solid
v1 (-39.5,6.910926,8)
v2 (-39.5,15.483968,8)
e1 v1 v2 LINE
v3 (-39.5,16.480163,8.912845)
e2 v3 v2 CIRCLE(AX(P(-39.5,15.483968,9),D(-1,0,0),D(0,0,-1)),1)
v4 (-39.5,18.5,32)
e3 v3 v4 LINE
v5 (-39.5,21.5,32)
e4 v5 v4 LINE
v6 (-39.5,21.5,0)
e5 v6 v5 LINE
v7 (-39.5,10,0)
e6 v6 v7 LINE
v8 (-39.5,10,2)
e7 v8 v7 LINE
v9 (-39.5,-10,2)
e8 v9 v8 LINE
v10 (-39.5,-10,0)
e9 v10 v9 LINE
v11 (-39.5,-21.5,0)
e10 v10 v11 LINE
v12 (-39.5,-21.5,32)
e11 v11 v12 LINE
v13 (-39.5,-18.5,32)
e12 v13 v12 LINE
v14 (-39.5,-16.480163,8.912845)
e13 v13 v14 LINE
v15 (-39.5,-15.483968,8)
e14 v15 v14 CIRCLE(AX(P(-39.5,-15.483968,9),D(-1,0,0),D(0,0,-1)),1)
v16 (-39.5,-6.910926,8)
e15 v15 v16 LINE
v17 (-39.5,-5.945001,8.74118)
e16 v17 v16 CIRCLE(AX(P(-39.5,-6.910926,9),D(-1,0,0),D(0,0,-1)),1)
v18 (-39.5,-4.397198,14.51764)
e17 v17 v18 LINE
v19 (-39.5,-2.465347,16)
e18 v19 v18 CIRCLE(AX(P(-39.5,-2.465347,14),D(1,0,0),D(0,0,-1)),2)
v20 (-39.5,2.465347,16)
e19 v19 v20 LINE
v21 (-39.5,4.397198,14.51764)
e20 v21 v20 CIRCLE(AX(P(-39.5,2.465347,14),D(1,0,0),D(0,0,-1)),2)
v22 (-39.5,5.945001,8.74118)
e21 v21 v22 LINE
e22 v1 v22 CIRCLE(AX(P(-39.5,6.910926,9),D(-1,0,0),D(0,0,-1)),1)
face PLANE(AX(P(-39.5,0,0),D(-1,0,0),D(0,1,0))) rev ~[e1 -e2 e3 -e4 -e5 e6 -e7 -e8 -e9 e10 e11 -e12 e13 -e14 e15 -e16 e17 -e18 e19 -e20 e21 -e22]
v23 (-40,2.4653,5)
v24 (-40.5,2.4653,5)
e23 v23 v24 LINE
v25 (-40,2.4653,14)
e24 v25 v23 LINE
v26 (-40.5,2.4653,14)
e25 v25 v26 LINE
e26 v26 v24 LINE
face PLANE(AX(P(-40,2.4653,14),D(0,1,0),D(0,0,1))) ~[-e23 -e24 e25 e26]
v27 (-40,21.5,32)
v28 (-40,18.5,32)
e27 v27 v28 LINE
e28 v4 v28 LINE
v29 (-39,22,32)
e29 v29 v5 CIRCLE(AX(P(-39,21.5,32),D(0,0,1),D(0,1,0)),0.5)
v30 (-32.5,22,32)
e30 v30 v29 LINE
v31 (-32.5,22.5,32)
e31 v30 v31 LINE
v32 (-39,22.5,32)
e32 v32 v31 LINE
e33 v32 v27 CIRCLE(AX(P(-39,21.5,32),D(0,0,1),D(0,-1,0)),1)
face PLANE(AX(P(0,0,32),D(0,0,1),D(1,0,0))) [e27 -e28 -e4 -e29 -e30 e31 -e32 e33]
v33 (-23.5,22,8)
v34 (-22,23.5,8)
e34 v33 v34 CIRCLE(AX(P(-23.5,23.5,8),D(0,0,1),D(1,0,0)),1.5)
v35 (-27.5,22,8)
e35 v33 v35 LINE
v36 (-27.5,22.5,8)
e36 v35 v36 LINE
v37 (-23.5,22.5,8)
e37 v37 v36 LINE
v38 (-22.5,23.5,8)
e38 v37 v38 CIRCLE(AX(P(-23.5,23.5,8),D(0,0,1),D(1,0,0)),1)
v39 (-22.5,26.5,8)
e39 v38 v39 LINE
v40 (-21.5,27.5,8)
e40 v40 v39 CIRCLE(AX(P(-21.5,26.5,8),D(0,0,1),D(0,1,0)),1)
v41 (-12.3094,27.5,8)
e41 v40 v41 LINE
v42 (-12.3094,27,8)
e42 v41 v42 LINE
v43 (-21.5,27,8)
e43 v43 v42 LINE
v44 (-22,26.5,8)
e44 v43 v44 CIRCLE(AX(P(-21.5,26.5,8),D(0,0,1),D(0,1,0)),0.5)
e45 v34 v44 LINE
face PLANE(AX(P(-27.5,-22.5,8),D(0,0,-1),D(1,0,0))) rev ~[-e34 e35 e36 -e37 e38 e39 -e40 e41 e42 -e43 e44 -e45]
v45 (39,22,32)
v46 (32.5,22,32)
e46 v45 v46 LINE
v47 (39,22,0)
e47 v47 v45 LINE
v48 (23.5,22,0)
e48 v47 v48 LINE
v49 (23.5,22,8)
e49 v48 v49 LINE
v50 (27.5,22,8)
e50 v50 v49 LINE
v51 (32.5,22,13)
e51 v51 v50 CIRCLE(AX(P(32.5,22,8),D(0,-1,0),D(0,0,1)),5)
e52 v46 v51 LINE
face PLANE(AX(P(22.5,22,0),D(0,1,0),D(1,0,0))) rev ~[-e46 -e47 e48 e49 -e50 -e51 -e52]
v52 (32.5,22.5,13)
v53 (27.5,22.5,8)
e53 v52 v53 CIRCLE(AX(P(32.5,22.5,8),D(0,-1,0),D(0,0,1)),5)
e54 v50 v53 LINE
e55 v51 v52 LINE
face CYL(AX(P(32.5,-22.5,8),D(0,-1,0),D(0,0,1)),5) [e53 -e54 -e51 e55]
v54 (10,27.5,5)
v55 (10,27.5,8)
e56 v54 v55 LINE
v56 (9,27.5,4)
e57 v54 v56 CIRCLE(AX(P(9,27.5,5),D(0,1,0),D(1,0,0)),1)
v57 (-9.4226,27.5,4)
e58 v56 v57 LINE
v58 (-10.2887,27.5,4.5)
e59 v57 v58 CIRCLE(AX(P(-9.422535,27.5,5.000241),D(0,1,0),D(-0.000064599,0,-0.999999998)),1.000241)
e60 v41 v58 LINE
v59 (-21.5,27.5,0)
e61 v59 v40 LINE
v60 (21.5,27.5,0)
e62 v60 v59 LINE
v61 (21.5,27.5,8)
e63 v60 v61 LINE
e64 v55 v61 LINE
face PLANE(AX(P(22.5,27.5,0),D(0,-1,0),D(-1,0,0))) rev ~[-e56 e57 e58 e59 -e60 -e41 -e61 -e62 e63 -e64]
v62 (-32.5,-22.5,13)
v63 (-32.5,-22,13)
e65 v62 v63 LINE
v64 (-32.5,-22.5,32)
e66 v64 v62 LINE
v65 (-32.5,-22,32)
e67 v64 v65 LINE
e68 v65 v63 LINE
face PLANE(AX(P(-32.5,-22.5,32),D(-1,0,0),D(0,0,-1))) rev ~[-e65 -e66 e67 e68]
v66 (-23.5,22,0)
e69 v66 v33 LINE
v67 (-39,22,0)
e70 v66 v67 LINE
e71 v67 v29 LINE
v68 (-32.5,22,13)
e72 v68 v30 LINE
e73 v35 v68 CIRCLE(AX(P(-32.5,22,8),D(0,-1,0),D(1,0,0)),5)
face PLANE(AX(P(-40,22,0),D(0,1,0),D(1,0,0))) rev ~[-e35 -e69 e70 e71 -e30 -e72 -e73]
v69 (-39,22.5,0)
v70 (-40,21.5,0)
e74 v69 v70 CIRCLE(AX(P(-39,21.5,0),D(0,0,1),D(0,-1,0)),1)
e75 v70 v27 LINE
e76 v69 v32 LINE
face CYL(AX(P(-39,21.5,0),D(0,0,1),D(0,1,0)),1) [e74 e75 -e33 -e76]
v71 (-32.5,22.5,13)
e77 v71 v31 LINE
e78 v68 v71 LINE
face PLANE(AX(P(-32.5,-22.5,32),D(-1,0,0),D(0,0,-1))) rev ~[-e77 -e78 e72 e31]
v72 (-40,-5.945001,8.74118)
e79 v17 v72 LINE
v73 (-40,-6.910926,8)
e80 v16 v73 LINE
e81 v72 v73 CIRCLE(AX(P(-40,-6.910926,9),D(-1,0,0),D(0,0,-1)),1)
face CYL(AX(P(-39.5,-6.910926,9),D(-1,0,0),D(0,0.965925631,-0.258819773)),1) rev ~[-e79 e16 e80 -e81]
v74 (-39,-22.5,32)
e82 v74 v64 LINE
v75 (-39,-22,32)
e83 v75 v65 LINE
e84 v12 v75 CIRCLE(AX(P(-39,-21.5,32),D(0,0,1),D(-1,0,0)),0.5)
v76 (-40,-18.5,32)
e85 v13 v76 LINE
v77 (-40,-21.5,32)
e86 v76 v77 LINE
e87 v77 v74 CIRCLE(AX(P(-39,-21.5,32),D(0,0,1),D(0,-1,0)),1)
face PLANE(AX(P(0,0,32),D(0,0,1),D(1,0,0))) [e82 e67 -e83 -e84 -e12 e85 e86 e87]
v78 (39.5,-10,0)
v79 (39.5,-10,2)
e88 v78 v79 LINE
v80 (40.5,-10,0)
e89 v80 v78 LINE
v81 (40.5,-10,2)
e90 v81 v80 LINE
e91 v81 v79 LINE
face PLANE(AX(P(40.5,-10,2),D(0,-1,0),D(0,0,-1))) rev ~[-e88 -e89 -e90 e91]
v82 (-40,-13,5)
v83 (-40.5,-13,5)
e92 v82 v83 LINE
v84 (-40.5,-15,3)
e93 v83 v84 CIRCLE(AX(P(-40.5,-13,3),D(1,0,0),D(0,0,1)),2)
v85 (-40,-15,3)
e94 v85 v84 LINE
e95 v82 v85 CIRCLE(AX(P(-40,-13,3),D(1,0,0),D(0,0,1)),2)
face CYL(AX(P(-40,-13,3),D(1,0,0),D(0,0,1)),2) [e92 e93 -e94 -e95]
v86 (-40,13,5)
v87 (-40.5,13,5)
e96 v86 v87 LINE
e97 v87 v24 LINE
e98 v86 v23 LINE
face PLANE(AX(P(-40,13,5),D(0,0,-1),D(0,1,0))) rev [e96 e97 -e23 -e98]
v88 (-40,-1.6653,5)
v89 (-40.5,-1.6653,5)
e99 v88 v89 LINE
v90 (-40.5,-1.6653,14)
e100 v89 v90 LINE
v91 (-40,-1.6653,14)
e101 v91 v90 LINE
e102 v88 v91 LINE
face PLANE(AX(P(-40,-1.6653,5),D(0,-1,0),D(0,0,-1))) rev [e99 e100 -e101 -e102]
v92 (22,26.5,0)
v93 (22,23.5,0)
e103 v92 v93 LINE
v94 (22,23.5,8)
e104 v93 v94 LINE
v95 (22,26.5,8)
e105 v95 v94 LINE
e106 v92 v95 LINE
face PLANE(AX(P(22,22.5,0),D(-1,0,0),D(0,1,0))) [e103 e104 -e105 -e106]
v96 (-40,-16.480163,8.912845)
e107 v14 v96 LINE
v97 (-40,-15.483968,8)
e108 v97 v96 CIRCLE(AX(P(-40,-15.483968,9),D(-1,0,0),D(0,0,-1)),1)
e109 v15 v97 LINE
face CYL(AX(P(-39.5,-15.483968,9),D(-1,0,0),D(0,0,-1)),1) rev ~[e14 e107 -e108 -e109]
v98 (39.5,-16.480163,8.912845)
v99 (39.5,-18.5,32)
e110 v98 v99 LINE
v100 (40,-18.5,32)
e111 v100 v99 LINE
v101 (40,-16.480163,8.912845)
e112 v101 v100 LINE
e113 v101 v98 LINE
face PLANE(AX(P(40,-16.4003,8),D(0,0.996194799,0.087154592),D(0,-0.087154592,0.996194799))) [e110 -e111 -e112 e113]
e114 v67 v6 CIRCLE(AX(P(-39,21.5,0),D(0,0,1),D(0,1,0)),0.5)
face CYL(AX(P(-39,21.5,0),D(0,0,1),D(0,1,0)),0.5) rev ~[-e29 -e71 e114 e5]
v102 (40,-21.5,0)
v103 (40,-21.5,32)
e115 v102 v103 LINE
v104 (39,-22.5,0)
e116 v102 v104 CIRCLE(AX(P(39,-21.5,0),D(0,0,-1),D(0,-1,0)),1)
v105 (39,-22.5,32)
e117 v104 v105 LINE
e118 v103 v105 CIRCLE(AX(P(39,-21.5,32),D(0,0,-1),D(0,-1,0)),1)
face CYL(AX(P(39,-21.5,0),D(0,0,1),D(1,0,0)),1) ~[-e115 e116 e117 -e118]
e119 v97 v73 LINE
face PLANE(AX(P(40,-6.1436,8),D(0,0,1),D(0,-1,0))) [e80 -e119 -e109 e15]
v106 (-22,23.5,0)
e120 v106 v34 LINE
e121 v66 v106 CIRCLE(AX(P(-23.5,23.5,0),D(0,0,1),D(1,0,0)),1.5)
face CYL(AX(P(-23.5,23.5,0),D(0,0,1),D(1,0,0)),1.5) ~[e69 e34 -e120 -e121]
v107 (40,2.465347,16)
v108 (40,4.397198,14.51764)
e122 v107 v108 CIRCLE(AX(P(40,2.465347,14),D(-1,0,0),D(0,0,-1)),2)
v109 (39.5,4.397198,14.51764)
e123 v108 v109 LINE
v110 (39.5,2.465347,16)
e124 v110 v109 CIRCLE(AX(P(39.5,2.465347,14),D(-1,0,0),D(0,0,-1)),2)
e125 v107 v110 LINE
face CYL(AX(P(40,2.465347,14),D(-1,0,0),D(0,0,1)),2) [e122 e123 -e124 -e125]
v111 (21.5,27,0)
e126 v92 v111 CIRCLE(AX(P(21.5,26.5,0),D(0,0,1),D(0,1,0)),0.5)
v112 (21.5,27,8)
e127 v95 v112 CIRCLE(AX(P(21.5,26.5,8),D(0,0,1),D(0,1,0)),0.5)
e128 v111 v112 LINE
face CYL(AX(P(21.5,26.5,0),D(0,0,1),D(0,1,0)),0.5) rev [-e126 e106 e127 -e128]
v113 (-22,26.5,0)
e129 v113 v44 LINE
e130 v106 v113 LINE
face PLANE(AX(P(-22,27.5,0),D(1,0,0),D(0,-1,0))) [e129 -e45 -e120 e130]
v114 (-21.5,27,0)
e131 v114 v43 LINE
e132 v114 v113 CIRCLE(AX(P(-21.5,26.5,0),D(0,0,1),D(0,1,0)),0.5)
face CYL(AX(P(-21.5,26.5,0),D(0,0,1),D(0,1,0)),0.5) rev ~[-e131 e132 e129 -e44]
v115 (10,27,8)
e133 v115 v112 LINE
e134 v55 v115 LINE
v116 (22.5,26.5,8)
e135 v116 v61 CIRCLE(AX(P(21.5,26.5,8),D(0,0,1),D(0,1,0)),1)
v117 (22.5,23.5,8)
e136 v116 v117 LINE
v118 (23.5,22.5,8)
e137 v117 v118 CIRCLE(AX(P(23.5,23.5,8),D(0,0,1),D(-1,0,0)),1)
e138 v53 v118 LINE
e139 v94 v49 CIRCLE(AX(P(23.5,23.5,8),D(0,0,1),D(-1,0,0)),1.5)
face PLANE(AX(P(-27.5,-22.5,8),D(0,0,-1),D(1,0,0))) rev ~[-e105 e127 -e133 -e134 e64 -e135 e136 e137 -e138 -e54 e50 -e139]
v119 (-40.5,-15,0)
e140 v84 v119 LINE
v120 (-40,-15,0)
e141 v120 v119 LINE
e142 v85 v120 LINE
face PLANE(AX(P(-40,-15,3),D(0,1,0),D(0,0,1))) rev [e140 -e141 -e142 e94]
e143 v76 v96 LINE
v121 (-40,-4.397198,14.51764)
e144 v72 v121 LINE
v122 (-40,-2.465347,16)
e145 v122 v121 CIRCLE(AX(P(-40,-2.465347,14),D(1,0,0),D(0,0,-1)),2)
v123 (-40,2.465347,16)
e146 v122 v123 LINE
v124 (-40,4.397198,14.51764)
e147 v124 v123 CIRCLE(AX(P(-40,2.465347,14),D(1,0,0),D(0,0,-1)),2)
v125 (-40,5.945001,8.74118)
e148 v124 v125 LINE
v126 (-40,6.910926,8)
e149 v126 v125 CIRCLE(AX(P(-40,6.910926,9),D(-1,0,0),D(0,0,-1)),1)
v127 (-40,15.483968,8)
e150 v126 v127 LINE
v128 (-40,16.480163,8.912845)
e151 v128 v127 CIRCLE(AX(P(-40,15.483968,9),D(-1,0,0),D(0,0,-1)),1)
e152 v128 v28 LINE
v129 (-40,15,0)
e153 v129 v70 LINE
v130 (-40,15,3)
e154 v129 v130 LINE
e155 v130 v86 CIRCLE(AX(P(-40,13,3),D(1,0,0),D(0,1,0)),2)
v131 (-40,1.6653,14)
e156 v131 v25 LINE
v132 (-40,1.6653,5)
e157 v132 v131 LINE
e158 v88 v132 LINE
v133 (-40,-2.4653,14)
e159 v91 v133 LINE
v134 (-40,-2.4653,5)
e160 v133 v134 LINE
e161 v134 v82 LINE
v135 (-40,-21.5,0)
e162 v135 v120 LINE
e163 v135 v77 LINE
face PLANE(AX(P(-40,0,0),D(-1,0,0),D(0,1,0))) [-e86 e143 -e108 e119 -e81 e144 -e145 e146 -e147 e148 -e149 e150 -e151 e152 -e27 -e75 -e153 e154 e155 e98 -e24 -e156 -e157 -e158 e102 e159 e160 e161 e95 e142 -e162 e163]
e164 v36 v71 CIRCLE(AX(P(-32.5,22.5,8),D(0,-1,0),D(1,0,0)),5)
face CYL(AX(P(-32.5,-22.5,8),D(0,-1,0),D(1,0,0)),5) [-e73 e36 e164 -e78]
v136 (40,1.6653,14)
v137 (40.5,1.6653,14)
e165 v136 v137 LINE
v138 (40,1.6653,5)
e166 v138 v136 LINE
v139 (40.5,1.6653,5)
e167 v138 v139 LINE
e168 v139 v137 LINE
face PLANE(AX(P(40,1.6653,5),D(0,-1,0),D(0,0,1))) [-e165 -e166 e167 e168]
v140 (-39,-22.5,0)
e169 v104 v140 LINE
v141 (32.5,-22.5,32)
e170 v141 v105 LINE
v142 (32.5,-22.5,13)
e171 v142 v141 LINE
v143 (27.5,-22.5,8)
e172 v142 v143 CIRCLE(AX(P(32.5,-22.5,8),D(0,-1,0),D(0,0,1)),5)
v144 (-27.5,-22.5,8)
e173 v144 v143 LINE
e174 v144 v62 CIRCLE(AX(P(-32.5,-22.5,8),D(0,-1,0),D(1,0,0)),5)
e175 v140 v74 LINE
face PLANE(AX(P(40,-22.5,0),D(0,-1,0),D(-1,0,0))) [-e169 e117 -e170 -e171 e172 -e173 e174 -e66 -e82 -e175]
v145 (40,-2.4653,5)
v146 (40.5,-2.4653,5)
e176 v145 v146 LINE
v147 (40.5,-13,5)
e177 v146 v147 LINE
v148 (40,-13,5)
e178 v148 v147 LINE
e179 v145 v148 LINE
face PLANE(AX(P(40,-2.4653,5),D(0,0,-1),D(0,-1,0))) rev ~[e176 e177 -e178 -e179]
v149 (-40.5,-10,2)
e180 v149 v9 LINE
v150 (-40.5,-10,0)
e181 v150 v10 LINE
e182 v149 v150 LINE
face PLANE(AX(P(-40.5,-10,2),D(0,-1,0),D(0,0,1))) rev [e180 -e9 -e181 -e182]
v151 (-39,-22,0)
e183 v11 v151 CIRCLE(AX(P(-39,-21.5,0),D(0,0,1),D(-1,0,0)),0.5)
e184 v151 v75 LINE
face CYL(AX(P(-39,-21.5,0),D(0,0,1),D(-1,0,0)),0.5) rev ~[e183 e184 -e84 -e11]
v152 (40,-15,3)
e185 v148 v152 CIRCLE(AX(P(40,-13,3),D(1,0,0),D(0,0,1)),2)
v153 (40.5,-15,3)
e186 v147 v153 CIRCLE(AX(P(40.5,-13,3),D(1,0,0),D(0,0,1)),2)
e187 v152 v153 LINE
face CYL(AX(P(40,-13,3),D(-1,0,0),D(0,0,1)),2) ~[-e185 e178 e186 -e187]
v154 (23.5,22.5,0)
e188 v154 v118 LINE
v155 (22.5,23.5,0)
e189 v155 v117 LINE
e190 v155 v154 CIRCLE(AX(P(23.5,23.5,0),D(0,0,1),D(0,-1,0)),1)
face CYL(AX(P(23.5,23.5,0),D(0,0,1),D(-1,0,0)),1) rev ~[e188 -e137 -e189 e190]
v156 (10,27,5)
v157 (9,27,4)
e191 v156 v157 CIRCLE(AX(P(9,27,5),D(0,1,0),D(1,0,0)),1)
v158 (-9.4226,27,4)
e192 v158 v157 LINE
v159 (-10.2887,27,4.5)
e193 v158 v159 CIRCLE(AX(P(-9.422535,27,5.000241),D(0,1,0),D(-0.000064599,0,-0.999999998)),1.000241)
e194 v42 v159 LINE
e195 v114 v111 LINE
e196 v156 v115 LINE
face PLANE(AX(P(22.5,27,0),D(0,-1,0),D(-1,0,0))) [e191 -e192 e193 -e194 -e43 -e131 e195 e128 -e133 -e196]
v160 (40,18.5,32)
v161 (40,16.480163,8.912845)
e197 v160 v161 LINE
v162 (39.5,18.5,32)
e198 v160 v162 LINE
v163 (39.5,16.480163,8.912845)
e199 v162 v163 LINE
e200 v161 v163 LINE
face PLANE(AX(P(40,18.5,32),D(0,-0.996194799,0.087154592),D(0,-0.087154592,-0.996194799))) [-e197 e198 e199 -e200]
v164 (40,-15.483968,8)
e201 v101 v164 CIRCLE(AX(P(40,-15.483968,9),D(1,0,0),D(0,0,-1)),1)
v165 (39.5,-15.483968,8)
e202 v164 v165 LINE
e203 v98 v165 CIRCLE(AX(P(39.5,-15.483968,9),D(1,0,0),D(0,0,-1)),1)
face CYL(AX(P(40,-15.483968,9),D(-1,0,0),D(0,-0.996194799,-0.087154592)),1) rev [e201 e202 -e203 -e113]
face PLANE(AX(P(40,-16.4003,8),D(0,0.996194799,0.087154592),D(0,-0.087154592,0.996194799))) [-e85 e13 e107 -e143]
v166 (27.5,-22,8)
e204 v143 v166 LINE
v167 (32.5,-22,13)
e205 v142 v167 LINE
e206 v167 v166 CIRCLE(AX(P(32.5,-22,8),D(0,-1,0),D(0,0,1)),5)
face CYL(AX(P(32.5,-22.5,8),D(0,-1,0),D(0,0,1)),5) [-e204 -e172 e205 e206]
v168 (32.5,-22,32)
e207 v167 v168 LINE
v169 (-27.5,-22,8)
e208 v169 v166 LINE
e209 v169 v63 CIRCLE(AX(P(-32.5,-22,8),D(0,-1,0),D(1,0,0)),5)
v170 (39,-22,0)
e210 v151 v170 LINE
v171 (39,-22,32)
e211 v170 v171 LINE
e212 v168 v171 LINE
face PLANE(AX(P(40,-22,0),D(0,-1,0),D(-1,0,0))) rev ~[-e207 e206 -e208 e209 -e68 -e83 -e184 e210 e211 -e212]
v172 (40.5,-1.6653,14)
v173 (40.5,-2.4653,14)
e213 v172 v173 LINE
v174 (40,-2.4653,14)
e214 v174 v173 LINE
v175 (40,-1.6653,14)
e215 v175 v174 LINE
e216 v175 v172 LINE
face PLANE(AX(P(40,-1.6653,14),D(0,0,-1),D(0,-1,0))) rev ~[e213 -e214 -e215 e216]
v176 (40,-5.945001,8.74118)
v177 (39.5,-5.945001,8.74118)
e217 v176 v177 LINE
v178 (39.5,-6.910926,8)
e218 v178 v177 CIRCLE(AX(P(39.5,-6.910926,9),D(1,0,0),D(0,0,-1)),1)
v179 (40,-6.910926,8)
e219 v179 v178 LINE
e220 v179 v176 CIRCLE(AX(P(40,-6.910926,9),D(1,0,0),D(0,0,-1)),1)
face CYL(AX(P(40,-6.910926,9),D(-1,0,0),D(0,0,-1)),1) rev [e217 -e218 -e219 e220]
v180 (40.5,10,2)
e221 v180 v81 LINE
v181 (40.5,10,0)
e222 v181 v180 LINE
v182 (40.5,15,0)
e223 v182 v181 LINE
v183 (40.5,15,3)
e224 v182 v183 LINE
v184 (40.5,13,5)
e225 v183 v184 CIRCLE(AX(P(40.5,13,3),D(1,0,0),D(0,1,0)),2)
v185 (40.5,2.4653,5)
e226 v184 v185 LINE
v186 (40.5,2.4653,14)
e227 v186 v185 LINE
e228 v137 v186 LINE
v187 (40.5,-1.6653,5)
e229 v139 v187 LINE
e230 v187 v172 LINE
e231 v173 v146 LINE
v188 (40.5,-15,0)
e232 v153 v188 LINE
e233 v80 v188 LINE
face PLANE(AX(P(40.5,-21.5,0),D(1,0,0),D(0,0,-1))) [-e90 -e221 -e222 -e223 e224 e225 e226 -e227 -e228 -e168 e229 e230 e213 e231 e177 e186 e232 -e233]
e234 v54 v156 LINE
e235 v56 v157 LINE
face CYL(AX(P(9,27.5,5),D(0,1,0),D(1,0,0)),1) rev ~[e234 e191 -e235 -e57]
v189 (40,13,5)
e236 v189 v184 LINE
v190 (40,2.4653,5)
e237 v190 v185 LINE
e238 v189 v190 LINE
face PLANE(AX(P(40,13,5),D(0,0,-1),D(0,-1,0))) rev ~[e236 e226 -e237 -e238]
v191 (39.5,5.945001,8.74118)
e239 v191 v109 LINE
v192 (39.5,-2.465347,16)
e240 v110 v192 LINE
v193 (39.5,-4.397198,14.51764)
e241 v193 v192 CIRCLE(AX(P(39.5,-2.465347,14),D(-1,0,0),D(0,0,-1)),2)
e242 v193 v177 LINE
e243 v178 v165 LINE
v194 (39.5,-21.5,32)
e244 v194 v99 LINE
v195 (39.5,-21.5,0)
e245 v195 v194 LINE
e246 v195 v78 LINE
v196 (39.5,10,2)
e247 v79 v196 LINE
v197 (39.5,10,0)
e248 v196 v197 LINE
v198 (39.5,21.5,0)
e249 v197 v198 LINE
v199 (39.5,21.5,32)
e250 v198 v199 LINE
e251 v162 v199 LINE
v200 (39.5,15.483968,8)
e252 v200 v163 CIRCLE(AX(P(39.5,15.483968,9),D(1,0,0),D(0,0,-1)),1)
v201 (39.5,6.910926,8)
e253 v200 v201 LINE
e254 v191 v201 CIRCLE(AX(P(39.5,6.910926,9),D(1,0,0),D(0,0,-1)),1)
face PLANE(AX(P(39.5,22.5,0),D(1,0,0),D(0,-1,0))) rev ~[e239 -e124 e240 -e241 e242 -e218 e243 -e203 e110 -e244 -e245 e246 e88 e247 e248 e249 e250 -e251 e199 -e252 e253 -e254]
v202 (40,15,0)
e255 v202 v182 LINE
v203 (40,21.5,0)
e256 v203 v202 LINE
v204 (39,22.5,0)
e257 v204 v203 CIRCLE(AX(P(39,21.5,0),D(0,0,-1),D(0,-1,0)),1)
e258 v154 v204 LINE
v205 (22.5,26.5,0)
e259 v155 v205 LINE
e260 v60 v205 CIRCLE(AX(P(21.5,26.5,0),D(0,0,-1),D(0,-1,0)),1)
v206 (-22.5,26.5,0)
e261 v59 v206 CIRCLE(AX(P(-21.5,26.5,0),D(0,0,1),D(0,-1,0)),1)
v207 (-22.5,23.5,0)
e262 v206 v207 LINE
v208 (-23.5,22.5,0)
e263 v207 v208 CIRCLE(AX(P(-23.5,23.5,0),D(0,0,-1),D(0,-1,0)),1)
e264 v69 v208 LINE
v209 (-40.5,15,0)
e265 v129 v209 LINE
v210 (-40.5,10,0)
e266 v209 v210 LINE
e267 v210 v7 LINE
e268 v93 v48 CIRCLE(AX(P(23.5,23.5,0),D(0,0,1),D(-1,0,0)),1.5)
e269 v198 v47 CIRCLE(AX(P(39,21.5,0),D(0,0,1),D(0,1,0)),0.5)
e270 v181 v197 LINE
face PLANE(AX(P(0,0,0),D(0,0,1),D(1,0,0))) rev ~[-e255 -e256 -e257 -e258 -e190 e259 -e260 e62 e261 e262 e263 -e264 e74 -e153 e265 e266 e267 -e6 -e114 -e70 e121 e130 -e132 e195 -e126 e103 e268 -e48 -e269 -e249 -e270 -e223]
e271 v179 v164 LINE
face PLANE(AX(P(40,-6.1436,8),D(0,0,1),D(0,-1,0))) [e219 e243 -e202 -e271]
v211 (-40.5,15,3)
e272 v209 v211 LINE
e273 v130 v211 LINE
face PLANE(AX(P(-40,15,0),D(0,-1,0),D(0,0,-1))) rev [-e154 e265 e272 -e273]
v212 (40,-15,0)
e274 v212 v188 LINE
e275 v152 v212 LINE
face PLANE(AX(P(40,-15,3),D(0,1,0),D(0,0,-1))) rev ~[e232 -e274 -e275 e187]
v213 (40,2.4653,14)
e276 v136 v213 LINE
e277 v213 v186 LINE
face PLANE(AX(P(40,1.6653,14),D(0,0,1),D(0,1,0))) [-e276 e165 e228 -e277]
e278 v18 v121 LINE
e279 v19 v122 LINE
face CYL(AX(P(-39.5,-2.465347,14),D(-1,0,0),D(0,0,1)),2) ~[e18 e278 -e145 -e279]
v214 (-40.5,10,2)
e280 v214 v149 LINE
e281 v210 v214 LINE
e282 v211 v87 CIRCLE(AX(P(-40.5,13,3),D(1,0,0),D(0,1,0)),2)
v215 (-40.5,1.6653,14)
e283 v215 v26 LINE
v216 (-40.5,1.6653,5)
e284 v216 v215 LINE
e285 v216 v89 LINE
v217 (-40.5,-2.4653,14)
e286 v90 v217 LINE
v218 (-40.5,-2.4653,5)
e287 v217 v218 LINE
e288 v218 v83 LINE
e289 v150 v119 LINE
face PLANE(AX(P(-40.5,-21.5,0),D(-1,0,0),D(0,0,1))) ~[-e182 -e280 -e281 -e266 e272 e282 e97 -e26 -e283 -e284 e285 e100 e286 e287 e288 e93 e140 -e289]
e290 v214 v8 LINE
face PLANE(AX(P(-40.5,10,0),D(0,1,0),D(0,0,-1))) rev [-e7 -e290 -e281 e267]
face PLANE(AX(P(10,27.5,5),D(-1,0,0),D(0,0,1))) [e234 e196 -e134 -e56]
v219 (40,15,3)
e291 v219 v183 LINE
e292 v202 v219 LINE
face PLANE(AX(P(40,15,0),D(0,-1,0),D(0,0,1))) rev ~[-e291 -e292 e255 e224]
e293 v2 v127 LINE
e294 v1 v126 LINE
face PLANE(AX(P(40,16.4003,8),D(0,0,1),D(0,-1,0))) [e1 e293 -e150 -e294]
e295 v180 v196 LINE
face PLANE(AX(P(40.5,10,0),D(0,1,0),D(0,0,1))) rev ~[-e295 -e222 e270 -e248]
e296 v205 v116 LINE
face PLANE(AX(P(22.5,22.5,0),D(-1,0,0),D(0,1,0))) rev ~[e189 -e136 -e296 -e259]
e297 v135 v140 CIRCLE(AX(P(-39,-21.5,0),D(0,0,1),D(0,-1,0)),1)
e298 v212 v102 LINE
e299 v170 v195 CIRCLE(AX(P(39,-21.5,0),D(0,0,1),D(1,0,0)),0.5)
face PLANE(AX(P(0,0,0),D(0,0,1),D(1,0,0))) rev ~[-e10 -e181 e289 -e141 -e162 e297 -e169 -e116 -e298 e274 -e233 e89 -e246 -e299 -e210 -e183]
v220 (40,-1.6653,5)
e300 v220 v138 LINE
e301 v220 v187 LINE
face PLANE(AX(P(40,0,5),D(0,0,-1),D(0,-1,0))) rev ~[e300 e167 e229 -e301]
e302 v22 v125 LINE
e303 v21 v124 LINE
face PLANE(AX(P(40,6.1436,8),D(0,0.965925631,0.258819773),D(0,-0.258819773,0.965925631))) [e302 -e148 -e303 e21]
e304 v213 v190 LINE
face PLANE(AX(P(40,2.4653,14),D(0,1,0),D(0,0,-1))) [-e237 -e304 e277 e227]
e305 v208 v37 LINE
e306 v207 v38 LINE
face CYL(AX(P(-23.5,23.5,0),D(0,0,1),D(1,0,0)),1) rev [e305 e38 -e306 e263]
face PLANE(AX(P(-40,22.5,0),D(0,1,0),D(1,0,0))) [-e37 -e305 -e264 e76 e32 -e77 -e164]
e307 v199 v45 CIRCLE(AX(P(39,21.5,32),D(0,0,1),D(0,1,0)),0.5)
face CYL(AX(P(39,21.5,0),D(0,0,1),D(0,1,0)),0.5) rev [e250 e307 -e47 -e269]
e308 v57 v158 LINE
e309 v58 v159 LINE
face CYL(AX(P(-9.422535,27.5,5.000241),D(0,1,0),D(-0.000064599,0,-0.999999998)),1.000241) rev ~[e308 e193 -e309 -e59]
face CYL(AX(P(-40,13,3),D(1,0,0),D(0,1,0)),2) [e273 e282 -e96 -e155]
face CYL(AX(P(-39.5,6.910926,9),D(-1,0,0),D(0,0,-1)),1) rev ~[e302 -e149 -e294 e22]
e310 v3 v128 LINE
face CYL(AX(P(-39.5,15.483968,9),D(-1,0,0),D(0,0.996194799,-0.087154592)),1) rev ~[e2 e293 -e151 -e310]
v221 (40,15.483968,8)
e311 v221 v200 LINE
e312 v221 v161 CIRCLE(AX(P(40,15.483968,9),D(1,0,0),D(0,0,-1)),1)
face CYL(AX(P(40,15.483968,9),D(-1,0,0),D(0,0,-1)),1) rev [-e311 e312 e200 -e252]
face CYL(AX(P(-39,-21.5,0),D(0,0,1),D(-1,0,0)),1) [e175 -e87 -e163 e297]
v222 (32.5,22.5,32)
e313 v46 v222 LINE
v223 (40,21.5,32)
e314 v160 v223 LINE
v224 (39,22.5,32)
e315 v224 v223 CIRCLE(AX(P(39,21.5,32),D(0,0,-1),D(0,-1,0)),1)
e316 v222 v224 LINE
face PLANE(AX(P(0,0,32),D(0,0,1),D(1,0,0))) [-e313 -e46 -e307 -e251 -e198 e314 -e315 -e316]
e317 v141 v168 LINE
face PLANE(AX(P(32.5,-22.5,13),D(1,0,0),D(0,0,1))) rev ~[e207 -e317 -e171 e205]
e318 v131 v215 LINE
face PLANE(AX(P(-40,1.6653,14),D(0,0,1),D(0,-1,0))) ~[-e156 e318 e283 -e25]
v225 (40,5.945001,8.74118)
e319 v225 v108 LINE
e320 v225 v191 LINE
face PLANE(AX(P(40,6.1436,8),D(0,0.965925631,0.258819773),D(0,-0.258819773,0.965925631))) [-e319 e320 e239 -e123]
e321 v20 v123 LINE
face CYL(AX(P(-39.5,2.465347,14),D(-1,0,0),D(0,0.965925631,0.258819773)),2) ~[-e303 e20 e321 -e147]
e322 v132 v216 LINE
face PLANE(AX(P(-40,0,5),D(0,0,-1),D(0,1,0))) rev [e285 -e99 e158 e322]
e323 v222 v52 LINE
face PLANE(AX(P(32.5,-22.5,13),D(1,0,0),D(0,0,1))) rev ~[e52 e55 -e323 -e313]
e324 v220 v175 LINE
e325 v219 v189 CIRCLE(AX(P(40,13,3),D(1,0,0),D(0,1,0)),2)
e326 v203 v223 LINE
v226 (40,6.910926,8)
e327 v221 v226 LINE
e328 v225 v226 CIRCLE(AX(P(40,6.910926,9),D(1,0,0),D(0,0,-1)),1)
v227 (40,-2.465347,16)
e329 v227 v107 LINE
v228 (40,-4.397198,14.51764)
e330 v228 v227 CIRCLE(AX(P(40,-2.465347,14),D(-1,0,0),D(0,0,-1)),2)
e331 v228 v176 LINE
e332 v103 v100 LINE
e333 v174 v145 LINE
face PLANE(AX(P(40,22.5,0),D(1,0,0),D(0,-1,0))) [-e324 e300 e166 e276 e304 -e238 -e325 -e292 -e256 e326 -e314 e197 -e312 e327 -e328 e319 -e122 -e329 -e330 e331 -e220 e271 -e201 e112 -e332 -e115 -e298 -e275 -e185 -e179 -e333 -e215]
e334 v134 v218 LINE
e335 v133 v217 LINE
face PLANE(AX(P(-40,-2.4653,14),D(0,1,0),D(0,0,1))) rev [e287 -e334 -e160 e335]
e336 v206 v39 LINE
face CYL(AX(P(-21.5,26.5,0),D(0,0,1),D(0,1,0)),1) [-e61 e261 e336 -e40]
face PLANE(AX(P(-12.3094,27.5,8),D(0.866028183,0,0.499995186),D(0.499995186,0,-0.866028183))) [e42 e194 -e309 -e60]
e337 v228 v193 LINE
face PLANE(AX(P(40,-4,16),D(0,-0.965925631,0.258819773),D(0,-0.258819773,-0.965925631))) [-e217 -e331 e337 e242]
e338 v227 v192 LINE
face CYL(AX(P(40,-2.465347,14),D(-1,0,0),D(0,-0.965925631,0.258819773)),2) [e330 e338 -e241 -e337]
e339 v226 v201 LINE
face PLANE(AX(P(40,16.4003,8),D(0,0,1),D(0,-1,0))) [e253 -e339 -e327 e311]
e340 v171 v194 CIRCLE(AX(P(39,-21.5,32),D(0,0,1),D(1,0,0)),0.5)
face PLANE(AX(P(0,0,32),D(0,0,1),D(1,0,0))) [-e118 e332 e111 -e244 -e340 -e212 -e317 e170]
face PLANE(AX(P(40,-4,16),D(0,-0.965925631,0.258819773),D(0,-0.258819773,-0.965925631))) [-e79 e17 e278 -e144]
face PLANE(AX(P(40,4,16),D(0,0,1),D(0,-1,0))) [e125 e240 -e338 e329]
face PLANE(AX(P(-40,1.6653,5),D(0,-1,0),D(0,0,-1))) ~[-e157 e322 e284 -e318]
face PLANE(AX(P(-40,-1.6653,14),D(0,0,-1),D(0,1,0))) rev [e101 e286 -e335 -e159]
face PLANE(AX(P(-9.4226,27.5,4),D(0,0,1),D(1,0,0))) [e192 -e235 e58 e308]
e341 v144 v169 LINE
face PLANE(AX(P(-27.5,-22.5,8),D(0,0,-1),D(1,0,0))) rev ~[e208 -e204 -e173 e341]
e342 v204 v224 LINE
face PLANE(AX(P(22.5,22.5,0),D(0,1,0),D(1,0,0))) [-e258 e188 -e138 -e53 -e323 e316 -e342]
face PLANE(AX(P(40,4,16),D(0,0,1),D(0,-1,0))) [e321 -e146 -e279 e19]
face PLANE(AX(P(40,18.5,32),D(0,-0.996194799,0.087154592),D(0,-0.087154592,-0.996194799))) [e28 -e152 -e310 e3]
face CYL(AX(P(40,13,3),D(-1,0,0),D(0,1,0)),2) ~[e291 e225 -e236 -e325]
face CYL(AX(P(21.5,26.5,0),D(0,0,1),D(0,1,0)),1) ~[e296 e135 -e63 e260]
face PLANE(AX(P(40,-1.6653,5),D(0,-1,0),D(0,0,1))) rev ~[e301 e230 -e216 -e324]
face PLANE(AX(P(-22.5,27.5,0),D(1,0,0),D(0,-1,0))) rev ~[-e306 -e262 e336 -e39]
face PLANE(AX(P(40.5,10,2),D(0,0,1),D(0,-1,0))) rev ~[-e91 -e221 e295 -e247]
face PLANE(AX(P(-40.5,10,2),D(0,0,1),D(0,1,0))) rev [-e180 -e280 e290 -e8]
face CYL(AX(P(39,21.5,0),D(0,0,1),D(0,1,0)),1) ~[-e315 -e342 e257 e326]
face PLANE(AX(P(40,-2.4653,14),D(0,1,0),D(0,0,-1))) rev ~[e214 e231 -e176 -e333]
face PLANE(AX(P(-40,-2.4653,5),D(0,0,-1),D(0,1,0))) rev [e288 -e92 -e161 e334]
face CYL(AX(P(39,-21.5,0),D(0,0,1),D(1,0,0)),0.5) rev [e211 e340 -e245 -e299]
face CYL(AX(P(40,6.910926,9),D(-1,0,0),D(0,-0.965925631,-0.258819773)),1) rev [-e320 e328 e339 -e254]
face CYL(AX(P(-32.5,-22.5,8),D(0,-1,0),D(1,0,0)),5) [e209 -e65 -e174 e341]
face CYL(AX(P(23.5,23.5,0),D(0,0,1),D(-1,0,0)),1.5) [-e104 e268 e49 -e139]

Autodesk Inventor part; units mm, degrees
ref_plane "YZ Plane" through (0, 0, 0) normal (1, 0, 0) x (0, 1, 0)
ref_plane "XZ Plane" through (0, 0, 0) normal (0, 1, 0) x (-1, 0, 0)
ref_plane "XY Plane" through (0, 0, 0) normal (0, 0, 1) x (1, 0, 0)
sketch "Sketch1" plane through (0, 0, 0) normal (0, 0, 1) x (1, 0, 0)
  line L0 (0, 42.5) -> (0, -27.5) projected
  line L1 (-48, 0) -> (64, 0) projected
  line L2 (-40, 22.5) -> (40, 22.5)
  line L3 (40, 22.5) -> (40, -22.5)
  line L4 (40, -22.5) -> (-40, -22.5)
  line L5 (-40, -22.5) -> (-40, 22.5)
  line L6 (-22.5, 22.5) -> (22.5, 22.5)
  line L7 (22.5, 22.5) -> (22.5, 27.5)
  line L8 (22.5, 27.5) -> (-22.5, 27.5)
  line L9 (-22.5, 27.5) -> (-22.5, 22.5)
  dimension "d0" = 80
  dimension "d1" = 45
  dimension "d2" = 45
  dimension "d3" = 5
extrude "Extrusion1" add sketch "Sketch1" along normal blind 32
fillet "Fillet2" radius 1 8 edges at (40, 22.5, 16) (40, -22.5, 16) (22.5, 22.5, 16) (22.5, 27.5, 16) (-22.5, 27.5, 16) (-22.5, 22.5, 16) (-40, 22.5, 16) (-40, -22.5, 16)
shell "Shell1" thickness 0.5 removed faces 2 at (7.6255, -7.4273, 0) at (7.6255, -7.4273, 32)
sketch "Sketch2" plane through (-40, -22.5, 0) normal (0, -1, 0) x (1, 0, 0)
  line L0 (80, 32) -> (0, 32) projected
  line L1 (0, 0) -> (80, 0) projected
  line L2 (80, 0) -> (80, 32) projected
  line L3 (7.5, 32) -> (7.5, 13)
  arc A0 (12.5, 8) -> (7.5, 13) centre (7.5, 8) ccw
  line L4 (12.5, 8) -> (67.5, 8)
  arc A1 (72.5, 13) -> (67.5, 8) centre (72.5, 8) ccw
  line L5 (72.5, 13) -> (72.5, 32)
  line L6 (7.5, 13) -> (24.0062, 13) construction
  line L7 (12.5, 8) -> (12.5, 12.4576) construction
  line L8 (72.5, 13) -> (51.974, 13) construction
  line L9 (67.5, 8) -> (67.5, 19.4272) construction
  line L10 (40, 41.6) -> (40, -3.2) construction
  dimension "d7" = 8
  dimension "d8" = 65
  dimension "d9" = 5
extrude "Extrusion2" cut sketch "Sketch2" against normal through all
sketch "Sketch3" plane through (40, -22.5, 0) normal (1, 0, 0) x (0, 0, -1)
  line L0 (-32, 45) -> (-32, 0) projected
  line L1 (0, 0) -> (0, 45) projected
  line L2 (0, 45) -> (-32, 45) projected
  line L3 (-41.6, 22.5) -> (3.2, 22.5) projected
  line L4 (-32, 41) -> (-8, 38.9003)
  line L5 (-8, 38.9003) -> (-8, 28.6436)
  line L6 (-8, 28.6436) -> (-16, 26.5)
  line L7 (-16, 26.5) -> (-16, 18.5)
  line L8 (-16, 18.5) -> (-8, 16.3564)
  line L9 (-8, 16.3564) -> (-8, 6.0997)
  line L10 (-8, 6.0997) -> (-32, 4)
  dimension "d12" = 8
  dimension "d13" = 4
  dimension "d14" = 95
  dimension "d15" = 8
  dimension "d16" = 8
  dimension "d17" = 105
extrude "Extrusion3" cut sketch "Sketch3" against normal through all contours L4 L5 L6 L7 L3 L0 | L3 L7 L8 L9 L10 L0
fillet "Fillet1" radius 2 4 edges at (-39.75, -4, 16) (-39.75, 4, 16) (39.75, -4, 16) (39.75, 4, 16)
fillet "Fillet1" radius 1 8 edges at (39.75, -6.1436, 8) (39.75, 6.1436, 8) (39.75, 16.4003, 8) (39.75, -16.4003, 8) (-39.75, -6.1436, 8) (-39.75, -16.4003, 8) (-39.75, 16.4003, 8) (-39.75, 6.1436, 8)
sketch "Sketch4" plane through (-21.5, 27.5, 0) normal (0, 1, 0) x (1, 0, 0)
  line L0 (0, -8) -> (43, -8) projected
  line L1 (21.5, 3.2) -> (21.5, -41.6) projected
  line L2 (9.1906, -8) -> (11.2113, -4.5)
  line L3 (12.0774, -4) -> (30.5, -4)
  line L4 (31.5, -5) -> (31.5, -8)
  arc A0 (12.0774, -4) -> (11.2113, -4.5) centre (12.0774, -5) ccw
  arc A1 (31.5, -5) -> (30.5, -4) centre (30.5, -5) ccw
  point P0 (11.5, -4)
  point P1 (31.5, -4)
  dimension "d23" = 4
  dimension "d24" = 120
  dimension "d25" = 20
  dimension "d26" = 1
extrude "Extrusion4" cut sketch "Sketch4" against normal up to next
sketch "Sketch6" plane through (40, -21.5, 0) normal (1, 0, 0) x (0, 0, -1)
  arc A0 (-14.5176, 25.8972) -> (-16, 23.9653) centre (-14, 23.9653) ccw projected
  arc A1 (-16, 19.0347) -> (-14.5176, 17.1028) centre (-14, 19.0347) ccw projected
  line L0 (0, 0) -> (0, 43) projected
  line L1 (0, 36.5) -> (-3, 36.5)
  line L2 (-5, 34.5) -> (-5, 8.5)
  line L3 (-3, 6.5) -> (0, 6.5)
  line L4 (0, 6.5) -> (0, 36.5)
  line L5 (-41.6, 21.5) -> (3.2, 21.5) projected
  line L6 (-14, 23.9653) -> (-5, 23.9653)
  line L7 (-5, 23.9653) -> (-5, 23.1653)
  line L8 (-5, 23.1653) -> (-14, 23.1653)
  line L9 (-14, 23.1653) -> (-14, 23.9653)
  line L10 (-14, 19.0347) -> (-5, 19.0347)
  line L11 (-5, 19.0347) -> (-5, 19.8347)
  line L12 (-5, 19.8347) -> (-14, 19.8347)
  line L13 (-14, 19.8347) -> (-14, 19.0347)
  arc A2 (-3, 36.5) -> (-5, 34.5) centre (-3, 34.5) ccw
  arc A3 (-5, 8.5) -> (-3, 6.5) centre (-3, 8.5) ccw
  point P0 (-5, 6.5)
  point P1 (-5, 36.5)
  dimension "d29" = 5
  dimension "d30" = 30
  dimension "d31" = 0.8
  dimension "d32" = 2
extrude "Extrusion5" add sketch "Sketch6" along normal blind 0.5
sketch "Sketch7" plane through (40.5, -21.5, 0) normal (1, 0, 0) x (0, 0, -1)
  line L0 (0, 36.5) -> (0, 6.5) projected
  line L1 (-41.6, 21.5) -> (3.2, 21.5) projected
  line L2 (0, 31.5) -> (-2, 31.5)
  line L3 (-2, 31.5) -> (-2, 11.5)
  line L4 (-2, 11.5) -> (0, 11.5)
  line L5 (0, 11.5) -> (0, 31.5)
  dimension "d35" = 2
  dimension "d36" = 20
extrude "Extrusion6" cut sketch "Sketch7" against normal up to next
mirror "Mirror1" about plane through (0, 0, 0) normal (1, 0, 0) of "Extrusion5", "Extrusion6"
properties part number "config - processor casing"
